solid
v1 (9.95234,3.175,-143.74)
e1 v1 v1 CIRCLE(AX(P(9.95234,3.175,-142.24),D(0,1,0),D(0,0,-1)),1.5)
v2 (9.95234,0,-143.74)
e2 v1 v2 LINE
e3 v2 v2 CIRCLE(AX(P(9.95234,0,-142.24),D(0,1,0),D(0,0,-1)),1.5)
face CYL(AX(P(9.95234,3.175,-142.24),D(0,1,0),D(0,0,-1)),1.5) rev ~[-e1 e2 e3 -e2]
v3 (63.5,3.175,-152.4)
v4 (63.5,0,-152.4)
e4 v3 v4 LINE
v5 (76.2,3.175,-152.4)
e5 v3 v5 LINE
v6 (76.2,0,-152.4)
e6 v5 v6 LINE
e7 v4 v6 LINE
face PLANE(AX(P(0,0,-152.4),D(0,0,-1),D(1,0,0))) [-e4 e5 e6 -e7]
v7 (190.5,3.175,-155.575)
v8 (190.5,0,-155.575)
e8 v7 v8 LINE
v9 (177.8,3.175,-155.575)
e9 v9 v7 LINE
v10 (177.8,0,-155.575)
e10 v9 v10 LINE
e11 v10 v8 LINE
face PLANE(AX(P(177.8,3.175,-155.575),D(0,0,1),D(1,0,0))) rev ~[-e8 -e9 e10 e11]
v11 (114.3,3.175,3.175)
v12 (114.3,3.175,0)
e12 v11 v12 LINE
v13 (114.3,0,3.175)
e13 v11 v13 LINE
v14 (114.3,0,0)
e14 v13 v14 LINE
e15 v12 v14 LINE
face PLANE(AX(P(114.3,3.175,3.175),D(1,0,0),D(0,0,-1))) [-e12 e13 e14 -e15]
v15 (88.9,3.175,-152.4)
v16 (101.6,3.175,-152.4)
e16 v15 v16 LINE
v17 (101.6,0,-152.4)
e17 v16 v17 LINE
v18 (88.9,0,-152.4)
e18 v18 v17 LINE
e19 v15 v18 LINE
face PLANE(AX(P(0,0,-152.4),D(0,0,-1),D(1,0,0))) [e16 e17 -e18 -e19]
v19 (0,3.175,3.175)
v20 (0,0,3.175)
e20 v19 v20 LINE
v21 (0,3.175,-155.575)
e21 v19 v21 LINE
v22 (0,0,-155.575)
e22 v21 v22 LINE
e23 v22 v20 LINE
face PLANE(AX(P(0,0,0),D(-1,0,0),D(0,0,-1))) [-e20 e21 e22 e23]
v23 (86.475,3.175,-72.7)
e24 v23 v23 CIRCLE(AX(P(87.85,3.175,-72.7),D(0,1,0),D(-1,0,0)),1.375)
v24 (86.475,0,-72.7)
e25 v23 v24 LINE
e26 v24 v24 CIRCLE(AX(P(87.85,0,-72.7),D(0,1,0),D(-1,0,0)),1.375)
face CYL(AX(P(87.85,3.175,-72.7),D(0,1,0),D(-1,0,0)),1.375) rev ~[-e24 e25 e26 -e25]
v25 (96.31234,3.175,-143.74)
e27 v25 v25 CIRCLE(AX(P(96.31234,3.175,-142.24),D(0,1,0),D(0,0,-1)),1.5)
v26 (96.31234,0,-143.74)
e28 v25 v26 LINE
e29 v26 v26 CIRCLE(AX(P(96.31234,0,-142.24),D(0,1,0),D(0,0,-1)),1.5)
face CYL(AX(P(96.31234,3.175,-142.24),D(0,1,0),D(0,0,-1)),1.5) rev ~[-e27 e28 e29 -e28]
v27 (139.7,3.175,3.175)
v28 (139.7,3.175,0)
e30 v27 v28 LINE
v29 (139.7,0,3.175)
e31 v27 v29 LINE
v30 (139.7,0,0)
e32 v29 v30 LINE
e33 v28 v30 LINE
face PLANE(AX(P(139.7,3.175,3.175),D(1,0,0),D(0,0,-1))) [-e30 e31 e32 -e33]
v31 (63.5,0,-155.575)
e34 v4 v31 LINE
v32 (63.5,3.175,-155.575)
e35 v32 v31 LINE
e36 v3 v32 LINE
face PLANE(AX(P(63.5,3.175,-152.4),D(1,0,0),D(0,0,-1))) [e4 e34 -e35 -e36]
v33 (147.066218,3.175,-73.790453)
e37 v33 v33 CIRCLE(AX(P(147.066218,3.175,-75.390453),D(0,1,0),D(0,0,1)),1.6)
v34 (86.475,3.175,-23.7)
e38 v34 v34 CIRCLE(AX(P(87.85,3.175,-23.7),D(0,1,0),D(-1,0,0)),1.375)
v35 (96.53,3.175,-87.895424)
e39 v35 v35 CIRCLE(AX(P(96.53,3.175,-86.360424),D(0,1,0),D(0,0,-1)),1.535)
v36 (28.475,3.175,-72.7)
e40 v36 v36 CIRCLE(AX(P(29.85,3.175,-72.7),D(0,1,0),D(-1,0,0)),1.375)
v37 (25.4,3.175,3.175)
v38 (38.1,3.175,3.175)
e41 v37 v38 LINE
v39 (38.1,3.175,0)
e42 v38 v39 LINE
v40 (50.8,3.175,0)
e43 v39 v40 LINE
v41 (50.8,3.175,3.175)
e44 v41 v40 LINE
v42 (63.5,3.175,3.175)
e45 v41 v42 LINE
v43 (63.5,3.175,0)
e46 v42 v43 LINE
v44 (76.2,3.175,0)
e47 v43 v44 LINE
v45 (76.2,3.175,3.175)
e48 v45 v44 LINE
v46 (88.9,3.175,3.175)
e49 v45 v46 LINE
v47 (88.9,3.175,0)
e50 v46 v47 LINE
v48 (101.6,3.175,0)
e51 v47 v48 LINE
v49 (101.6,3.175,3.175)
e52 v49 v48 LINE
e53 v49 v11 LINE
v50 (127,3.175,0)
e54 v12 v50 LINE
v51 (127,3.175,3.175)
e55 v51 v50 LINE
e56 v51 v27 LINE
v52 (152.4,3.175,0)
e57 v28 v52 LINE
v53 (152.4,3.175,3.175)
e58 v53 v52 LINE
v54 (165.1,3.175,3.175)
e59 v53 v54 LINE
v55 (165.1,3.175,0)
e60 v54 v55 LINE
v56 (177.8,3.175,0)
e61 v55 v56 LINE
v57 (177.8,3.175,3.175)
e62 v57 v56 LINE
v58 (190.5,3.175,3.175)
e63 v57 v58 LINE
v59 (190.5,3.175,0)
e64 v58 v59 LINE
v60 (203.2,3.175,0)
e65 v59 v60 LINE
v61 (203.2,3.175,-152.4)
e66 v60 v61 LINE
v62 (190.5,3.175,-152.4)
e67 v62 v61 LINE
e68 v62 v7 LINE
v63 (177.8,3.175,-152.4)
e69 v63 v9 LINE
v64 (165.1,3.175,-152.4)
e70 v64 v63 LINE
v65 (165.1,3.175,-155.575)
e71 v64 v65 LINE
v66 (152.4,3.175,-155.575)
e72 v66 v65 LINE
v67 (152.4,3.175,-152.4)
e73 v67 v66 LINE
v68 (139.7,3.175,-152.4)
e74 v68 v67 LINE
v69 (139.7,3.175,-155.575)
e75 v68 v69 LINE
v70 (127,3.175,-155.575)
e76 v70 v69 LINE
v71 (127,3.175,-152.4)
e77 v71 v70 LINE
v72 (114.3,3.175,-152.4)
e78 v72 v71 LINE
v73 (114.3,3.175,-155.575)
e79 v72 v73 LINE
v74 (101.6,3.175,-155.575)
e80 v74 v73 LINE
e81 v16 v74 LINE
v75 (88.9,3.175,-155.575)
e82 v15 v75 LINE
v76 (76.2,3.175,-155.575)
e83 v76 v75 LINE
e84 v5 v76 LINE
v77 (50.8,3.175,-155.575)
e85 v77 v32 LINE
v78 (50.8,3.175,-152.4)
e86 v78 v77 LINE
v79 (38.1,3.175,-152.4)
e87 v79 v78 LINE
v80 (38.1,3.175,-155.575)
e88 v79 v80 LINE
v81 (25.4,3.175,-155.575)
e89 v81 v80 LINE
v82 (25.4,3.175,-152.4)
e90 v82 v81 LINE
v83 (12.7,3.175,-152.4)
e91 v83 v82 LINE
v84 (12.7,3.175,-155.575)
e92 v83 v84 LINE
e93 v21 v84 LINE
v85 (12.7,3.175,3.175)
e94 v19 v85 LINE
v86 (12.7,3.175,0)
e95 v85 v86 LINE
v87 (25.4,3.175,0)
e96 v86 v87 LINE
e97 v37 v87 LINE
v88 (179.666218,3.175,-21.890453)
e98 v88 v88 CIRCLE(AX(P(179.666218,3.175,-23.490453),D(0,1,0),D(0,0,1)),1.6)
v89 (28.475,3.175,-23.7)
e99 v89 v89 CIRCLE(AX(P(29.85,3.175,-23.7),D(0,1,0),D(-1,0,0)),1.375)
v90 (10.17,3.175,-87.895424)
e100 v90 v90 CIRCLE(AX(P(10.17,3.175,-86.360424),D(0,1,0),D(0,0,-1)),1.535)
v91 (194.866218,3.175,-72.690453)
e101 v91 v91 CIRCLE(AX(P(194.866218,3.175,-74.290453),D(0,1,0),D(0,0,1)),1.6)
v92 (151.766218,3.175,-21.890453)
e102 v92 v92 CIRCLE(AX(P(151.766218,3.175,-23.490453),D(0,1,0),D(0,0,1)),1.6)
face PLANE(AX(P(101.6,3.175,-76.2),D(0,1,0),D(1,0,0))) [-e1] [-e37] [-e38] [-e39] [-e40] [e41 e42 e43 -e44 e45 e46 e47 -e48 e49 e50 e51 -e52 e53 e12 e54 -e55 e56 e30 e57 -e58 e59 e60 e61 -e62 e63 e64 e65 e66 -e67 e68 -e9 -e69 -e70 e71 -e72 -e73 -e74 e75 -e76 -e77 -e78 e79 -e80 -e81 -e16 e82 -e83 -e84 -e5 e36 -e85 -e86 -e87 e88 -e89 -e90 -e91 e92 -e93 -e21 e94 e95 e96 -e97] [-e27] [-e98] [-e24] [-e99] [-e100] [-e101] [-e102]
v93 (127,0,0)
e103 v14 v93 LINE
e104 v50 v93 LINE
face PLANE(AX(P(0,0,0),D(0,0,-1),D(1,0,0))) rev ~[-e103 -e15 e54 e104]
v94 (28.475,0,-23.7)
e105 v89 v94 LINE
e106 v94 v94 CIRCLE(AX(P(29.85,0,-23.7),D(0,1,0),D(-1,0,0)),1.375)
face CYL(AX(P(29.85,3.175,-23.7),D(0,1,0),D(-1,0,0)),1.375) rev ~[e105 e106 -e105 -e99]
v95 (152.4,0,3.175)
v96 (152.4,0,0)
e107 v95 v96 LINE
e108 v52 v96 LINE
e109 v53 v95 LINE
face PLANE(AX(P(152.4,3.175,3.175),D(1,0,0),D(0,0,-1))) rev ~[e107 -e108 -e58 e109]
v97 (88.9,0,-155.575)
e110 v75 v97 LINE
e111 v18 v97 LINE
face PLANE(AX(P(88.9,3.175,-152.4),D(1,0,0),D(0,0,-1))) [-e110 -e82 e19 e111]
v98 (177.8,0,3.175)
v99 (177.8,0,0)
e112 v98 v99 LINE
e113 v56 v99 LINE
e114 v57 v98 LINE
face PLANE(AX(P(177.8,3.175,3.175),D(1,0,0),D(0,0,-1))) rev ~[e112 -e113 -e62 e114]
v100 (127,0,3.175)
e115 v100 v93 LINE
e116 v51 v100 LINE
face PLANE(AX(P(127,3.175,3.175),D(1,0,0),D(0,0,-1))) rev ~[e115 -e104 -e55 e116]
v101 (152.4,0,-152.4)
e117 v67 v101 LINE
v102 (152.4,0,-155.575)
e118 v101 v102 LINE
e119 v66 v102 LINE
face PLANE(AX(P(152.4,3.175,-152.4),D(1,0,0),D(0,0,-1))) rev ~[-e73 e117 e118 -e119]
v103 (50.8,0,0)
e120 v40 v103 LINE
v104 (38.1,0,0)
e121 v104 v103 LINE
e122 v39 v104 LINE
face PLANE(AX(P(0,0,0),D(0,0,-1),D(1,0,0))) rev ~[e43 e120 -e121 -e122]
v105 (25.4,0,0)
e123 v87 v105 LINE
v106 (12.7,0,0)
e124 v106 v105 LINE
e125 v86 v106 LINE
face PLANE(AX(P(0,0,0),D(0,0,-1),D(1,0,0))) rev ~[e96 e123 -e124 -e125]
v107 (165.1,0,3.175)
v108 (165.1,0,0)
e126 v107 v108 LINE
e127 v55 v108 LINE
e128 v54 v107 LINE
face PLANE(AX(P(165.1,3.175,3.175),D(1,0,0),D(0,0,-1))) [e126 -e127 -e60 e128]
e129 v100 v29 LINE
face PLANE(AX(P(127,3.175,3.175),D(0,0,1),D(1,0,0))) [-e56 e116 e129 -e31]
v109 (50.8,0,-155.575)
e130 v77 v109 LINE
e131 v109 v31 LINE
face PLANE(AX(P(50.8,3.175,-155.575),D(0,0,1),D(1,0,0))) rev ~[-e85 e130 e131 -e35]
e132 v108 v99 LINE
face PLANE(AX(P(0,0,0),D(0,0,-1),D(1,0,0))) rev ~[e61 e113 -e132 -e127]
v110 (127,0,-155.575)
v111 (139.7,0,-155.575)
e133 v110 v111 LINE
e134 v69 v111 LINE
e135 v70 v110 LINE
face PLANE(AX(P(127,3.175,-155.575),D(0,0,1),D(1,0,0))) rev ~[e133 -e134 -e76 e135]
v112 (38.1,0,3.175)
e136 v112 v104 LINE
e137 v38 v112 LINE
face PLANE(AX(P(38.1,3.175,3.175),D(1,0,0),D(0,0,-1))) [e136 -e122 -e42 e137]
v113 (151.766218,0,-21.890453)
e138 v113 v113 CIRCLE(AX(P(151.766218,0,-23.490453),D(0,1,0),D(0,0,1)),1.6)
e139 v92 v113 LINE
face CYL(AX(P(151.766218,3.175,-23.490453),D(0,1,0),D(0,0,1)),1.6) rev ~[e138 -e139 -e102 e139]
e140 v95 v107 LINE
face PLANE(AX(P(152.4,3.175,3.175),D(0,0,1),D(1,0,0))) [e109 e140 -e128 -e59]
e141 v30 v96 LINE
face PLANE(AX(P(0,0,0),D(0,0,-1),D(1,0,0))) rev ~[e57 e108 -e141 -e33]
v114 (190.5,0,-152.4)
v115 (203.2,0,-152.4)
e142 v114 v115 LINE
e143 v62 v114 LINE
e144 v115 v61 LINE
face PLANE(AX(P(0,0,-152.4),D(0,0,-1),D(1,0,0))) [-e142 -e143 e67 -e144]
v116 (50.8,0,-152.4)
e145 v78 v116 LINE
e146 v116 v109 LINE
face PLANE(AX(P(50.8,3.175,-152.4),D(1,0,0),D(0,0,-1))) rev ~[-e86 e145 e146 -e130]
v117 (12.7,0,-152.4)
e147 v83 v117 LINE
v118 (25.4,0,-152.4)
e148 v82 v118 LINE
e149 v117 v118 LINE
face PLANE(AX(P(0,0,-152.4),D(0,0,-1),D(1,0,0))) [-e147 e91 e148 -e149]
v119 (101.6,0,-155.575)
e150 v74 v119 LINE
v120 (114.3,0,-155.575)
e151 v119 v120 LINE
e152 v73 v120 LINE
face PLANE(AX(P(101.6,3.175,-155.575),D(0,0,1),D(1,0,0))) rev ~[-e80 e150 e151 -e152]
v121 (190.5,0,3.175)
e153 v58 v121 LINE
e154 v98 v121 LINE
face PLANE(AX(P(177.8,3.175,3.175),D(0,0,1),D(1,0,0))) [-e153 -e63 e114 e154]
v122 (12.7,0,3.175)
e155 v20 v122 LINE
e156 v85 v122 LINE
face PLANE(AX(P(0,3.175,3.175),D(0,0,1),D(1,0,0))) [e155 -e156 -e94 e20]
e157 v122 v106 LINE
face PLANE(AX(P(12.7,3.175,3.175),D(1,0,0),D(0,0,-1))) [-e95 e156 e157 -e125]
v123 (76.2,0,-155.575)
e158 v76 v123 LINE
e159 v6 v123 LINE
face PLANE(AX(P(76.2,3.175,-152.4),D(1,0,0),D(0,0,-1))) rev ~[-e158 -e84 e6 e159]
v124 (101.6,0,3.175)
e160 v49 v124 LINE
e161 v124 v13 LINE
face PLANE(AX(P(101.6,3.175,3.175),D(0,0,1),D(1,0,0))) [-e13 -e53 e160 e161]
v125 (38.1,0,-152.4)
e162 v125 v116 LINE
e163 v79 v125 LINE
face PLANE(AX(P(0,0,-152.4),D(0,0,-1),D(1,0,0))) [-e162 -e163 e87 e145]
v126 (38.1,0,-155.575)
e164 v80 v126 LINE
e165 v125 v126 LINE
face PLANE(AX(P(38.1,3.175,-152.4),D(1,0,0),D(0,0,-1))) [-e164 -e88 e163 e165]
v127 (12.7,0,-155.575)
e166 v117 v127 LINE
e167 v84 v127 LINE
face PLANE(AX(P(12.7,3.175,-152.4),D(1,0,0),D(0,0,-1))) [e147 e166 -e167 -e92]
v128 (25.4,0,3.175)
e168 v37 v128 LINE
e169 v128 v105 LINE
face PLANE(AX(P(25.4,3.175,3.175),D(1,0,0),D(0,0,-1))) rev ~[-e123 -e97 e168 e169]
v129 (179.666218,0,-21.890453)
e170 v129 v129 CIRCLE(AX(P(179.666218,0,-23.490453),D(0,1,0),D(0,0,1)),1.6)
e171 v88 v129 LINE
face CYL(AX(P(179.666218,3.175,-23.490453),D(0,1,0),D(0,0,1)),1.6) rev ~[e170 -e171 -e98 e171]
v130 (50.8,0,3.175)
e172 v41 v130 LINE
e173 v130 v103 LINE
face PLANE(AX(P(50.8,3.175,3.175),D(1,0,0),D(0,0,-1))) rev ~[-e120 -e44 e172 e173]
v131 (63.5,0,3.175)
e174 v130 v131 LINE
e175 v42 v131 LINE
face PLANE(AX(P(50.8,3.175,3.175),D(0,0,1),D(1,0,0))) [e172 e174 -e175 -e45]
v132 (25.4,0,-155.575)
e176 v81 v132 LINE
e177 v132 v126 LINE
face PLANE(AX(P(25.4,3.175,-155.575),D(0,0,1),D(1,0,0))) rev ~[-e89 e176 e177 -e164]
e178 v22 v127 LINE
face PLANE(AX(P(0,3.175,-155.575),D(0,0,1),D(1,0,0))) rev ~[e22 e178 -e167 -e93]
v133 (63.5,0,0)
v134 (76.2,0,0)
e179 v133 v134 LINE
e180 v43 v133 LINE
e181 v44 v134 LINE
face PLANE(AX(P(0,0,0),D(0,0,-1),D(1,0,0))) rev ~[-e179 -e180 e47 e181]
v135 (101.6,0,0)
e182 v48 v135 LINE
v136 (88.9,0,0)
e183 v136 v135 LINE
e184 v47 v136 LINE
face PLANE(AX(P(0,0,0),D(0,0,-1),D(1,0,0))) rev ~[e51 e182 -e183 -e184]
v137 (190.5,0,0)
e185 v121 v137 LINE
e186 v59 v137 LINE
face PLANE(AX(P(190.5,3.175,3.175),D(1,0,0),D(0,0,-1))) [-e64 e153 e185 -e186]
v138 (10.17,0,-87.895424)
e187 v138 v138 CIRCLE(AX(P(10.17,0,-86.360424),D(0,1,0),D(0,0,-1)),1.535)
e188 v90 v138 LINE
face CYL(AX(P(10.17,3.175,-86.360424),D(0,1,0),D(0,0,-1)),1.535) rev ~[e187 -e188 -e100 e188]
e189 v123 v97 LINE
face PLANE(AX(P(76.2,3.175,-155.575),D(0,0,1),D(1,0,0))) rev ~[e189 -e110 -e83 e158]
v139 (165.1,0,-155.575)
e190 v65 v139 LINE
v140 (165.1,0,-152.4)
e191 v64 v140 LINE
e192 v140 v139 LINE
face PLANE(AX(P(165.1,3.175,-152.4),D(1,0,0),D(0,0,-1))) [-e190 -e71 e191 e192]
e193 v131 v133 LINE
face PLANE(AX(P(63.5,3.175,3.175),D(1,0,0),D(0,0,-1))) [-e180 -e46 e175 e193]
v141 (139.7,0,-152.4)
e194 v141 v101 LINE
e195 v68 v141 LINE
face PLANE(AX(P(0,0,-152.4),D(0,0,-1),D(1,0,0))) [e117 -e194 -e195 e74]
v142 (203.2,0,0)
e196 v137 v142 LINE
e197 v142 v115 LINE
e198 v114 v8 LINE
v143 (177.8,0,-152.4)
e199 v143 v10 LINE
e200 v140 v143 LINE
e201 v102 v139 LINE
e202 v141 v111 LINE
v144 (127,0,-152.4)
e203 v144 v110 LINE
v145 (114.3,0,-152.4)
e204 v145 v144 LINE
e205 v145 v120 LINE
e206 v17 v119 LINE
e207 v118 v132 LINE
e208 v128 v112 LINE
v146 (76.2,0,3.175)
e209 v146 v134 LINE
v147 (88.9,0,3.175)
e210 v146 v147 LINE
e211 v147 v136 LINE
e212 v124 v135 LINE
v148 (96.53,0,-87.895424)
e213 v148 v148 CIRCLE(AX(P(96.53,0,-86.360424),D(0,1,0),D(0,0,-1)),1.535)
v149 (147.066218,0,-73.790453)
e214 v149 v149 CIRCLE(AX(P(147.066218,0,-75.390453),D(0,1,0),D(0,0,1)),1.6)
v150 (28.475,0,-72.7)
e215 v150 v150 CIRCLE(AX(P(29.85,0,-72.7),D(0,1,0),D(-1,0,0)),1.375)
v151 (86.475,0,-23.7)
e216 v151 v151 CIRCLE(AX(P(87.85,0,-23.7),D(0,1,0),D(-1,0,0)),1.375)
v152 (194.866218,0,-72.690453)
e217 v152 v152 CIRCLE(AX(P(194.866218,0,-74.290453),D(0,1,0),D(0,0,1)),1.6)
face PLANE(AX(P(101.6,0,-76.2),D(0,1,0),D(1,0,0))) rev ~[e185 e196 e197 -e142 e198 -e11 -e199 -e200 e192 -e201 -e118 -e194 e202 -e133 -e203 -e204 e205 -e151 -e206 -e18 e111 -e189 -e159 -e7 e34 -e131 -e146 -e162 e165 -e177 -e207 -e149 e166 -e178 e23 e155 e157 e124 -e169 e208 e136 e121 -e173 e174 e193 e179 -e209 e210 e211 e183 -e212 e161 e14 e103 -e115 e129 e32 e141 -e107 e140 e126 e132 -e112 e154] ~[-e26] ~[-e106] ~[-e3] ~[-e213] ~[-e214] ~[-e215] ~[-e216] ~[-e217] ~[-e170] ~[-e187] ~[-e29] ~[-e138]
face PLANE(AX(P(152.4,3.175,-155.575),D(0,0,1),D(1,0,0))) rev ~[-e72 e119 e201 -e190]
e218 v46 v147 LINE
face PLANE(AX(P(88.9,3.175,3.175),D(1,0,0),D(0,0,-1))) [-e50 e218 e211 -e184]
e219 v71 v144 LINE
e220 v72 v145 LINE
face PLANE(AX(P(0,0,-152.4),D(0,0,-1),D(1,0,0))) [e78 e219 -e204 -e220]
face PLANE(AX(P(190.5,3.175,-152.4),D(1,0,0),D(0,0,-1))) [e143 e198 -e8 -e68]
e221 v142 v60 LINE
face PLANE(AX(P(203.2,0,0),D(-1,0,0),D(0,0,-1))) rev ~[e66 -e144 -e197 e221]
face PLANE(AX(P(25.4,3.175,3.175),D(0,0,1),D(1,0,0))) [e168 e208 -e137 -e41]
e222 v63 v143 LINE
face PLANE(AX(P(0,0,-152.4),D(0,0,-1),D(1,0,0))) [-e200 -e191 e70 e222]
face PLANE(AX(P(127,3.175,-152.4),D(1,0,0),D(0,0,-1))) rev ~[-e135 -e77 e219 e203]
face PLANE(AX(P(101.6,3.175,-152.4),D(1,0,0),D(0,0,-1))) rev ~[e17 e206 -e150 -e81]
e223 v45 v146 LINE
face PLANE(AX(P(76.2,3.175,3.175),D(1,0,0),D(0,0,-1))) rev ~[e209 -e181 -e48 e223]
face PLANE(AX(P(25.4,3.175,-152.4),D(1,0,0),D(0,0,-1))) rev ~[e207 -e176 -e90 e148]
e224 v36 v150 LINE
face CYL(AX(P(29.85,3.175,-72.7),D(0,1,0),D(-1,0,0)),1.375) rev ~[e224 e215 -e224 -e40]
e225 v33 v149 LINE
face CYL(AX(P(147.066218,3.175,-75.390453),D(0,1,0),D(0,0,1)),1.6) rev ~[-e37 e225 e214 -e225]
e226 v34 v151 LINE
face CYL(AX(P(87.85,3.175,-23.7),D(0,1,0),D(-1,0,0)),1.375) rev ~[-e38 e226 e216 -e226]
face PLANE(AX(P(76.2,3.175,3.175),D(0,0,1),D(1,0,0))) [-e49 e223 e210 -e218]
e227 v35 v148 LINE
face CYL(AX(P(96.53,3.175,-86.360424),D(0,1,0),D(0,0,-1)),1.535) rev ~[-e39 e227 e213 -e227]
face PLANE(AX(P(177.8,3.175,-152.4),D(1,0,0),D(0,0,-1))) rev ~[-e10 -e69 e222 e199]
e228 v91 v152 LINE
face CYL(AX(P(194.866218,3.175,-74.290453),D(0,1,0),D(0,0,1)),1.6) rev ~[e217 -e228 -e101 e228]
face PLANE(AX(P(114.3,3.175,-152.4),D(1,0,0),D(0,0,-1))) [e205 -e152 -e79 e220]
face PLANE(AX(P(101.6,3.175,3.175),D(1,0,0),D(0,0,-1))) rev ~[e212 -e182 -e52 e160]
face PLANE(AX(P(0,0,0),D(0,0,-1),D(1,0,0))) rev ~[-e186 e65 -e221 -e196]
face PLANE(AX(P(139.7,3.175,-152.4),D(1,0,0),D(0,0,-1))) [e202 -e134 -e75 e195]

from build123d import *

# Parameters (mm, degrees)
SKETCH1_W              = 203.2
SKETCH1_H              = 152.4
BOSS_EXTRUDE1_DEPTH    = 3.175
SKETCH2_W              = 12.7
SKETCH2_H              = 3.175
BOSS_EXTRUDE2_DEPTH    = 3.175
BOSS_EXTRUDE2_2_DEPTH  = 3.175
BOSS_EXTRUDE2_3_DEPTH  = 3.175
BOSS_EXTRUDE2_4_DEPTH  = 3.175
BOSS_EXTRUDE2_5_DEPTH  = 3.175
BOSS_EXTRUDE2_6_DEPTH  = 3.175
BOSS_EXTRUDE2_7_DEPTH  = 3.175
BOSS_EXTRUDE2_8_DEPTH  = 3.175
BOSS_EXTRUDE2_9_DEPTH  = 3.175
BOSS_EXTRUDE2_10_DEPTH = 3.175
BOSS_EXTRUDE2_11_DEPTH = 3.175
BOSS_EXTRUDE2_12_DEPTH = 3.175
BOSS_EXTRUDE2_13_DEPTH = 3.175
BOSS_EXTRUDE2_14_DEPTH = 3.175
BOSS_EXTRUDE2_15_DEPTH = 3.175
BOSS_EXTRUDE2_16_DEPTH = 3.175
SKETCH4_R              = 1.375
RASPI_DEPTH            = 4.175
SKETCH5_R              = 1.6
ARDUINO_DEPTH          = 4.175
SKETCH10_R             = 1.535
SKETCH10_R_2           = 1.5
PERFBOARD_DEPTH        = 1
PERFBOARD_DEPTH_BACK   = 4.175


with BuildPart() as part:
    # Sketch1 → Boss-Extrude1 (new body)
    with BuildSketch(Plane(origin=(0, 0, 0), x_dir=(1, 0, 0), z_dir=(0, 1, 0))):
        with Locations((101.6, 76.2)):
            Rectangle(SKETCH1_W, SKETCH1_H)
    extrude(amount=BOSS_EXTRUDE1_DEPTH)

    # Sketch4 → Raspi (cut, through all)
    with BuildSketch(Plane(origin=(163.318517222, 3.175, 18.128898402), x_dir=(-1, 0, 0), z_dir=(0, 1, 0))):
        with Locations((75.468517222, -41.828898402)):
            Circle(SKETCH4_R)
        with Locations((75.468517222, -90.828898402)):
            Circle(SKETCH4_R)
        with Locations((133.468517222, -90.828898402)):
            Circle(SKETCH4_R)
        with Locations((133.468517222, -41.828898402)):
            Circle(SKETCH4_R)
    extrude(amount=-RASPI_DEPTH, mode=Mode.SUBTRACT)

    # Sketch5 → Arduino (cut, through all)
    with BuildSketch(Plane(origin=(-58.332709996, 3.175, -175.865858612), x_dir=(0, 0, 1), z_dir=(0, 1, 0))):
        with Locations((100.475405858, 205.398928035)):
            Circle(SKETCH5_R)
        with Locations((101.575405858, 253.198928035)):
            Circle(SKETCH5_R)
        with Locations((152.375405858, 210.098928035)):
            Circle(SKETCH5_R)
        with Locations((152.375405858, 237.998928035)):
            Circle(SKETCH5_R)
    extrude(amount=-ARDUINO_DEPTH, mode=Mode.SUBTRACT)

    # Sketch10 → Perfboard (cut, two sides)
    with BuildSketch(Plane(origin=(154.738240667, 3.175, -89.784200023), x_dir=(0, 0, -1), z_dir=(0, 1, 0))) as perfboard_sk:
        with Locations((-3.423776116, 144.568240667)):
            Circle(SKETCH10_R)
        with Locations((52.455799977, 144.785900219)):
            Circle(SKETCH10_R_2)
        with Locations((-3.423776116, 58.208240667)):
            Circle(SKETCH10_R)
        with Locations((52.455799977, 58.425900219)):
            Circle(SKETCH10_R_2)
    extrude(amount=PERFBOARD_DEPTH, mode=Mode.SUBTRACT)
    extrude(perfboard_sk.sketch, amount=-PERFBOARD_DEPTH_BACK, mode=Mode.SUBTRACT)


with BuildPart() as body_2:
    # Sketch2 → Boss-Extrude2 (new body)
    with BuildSketch(Plane(origin=(0, 3.175, 0), x_dir=(1, 0, 0), z_dir=(0, 1, 0))):
        with Locations((31.75, -1.5875)):
            Rectangle(SKETCH2_W, SKETCH2_H)
    extrude(amount=-BOSS_EXTRUDE2_DEPTH)


with BuildPart() as body_3:
    # Sketch2 → Boss-Extrude2 2 (new body)
    with BuildSketch(Plane(origin=(0, 3.175, 0), x_dir=(1, 0, 0), z_dir=(0, 1, 0))):
        with Locations((6.35, -1.5875)):
            Rectangle(SKETCH2_W, SKETCH2_H)
    extrude(amount=-BOSS_EXTRUDE2_2_DEPTH)


with BuildPart() as body_4:
    # Sketch2 → Boss-Extrude2 3 (new body)
    with BuildSketch(Plane(origin=(0, 3.175, 0), x_dir=(1, 0, 0), z_dir=(0, 1, 0))):
        with Locations((57.15, -1.5875)):
            Rectangle(SKETCH2_W, SKETCH2_H)
    extrude(amount=-BOSS_EXTRUDE2_3_DEPTH)


with BuildPart() as body_5:
    # Sketch2 → Boss-Extrude2 4 (new body)
    with BuildSketch(Plane(origin=(0, 3.175, 0), x_dir=(1, 0, 0), z_dir=(0, 1, 0))):
        with Locations((82.55, -1.5875)):
            Rectangle(SKETCH2_W, SKETCH2_H)
    extrude(amount=-BOSS_EXTRUDE2_4_DEPTH)


with BuildPart() as body_6:
    # Sketch2 → Boss-Extrude2 5 (new body)
    with BuildSketch(Plane(origin=(0, 3.175, 0), x_dir=(1, 0, 0), z_dir=(0, 1, 0))):
        with Locations((107.95, -1.5875)):
            Rectangle(SKETCH2_W, SKETCH2_H)
    extrude(amount=-BOSS_EXTRUDE2_5_DEPTH)


with BuildPart() as body_7:
    # Sketch2 → Boss-Extrude2 6 (new body)
    with BuildSketch(Plane(origin=(0, 3.175, 0), x_dir=(1, 0, 0), z_dir=(0, 1, 0))):
        with Locations((133.35, -1.5875)):
            Rectangle(SKETCH2_W, SKETCH2_H)
    extrude(amount=-BOSS_EXTRUDE2_6_DEPTH)


with BuildPart() as body_8:
    # Sketch2 → Boss-Extrude2 7 (new body)
    with BuildSketch(Plane(origin=(0, 3.175, 0), x_dir=(1, 0, 0), z_dir=(0, 1, 0))):
        with Locations((158.75, -1.5875)):
            Rectangle(SKETCH2_W, SKETCH2_H)
    extrude(amount=-BOSS_EXTRUDE2_7_DEPTH)


with BuildPart() as body_9:
    # Sketch2 → Boss-Extrude2 8 (new body)
    with BuildSketch(Plane(origin=(0, 3.175, 0), x_dir=(1, 0, 0), z_dir=(0, 1, 0))):
        with Locations((184.15, -1.5875)):
            Rectangle(SKETCH2_W, SKETCH2_H)
    extrude(amount=-BOSS_EXTRUDE2_8_DEPTH)


with BuildPart() as body_10:
    # Sketch2 → Boss-Extrude2 9 (new body)
    with BuildSketch(Plane(origin=(0, 3.175, 0), x_dir=(1, 0, 0), z_dir=(0, 1, 0))):
        with Locations((184.15, 153.9875)):
            Rectangle(SKETCH2_W, SKETCH2_H)
    extrude(amount=-BOSS_EXTRUDE2_9_DEPTH)


with BuildPart() as body_11:
    # Sketch2 → Boss-Extrude2 10 (new body)
    with BuildSketch(Plane(origin=(0, 3.175, 0), x_dir=(1, 0, 0), z_dir=(0, 1, 0))):
        with Locations((158.75, 153.9875)):
            Rectangle(SKETCH2_W, SKETCH2_H)
    extrude(amount=-BOSS_EXTRUDE2_10_DEPTH)


with BuildPart() as body_12:
    # Sketch2 → Boss-Extrude2 11 (new body)
    with BuildSketch(Plane(origin=(0, 3.175, 0), x_dir=(1, 0, 0), z_dir=(0, 1, 0))):
        with Locations((133.35, 153.9875)):
            Rectangle(SKETCH2_W, SKETCH2_H)
    extrude(amount=-BOSS_EXTRUDE2_11_DEPTH)


with BuildPart() as body_13:
    # Sketch2 → Boss-Extrude2 12 (new body)
    with BuildSketch(Plane(origin=(0, 3.175, 0), x_dir=(1, 0, 0), z_dir=(0, 1, 0))):
        with Locations((107.95, 153.9875)):
            Rectangle(SKETCH2_W, SKETCH2_H)
    extrude(amount=-BOSS_EXTRUDE2_12_DEPTH)


with BuildPart() as body_14:
    # Sketch2 → Boss-Extrude2 13 (new body)
    with BuildSketch(Plane(origin=(0, 3.175, 0), x_dir=(1, 0, 0), z_dir=(0, 1, 0))):
        with Locations((82.55, 153.9875)):
            Rectangle(SKETCH2_W, SKETCH2_H)
    extrude(amount=-BOSS_EXTRUDE2_13_DEPTH)


with BuildPart() as body_15:
    # Sketch2 → Boss-Extrude2 14 (new body)
    with BuildSketch(Plane(origin=(0, 3.175, 0), x_dir=(1, 0, 0), z_dir=(0, 1, 0))):
        with Locations((57.15, 153.9875)):
            Rectangle(SKETCH2_W, SKETCH2_H)
    extrude(amount=-BOSS_EXTRUDE2_14_DEPTH)


with BuildPart() as body_16:
    # Sketch2 → Boss-Extrude2 15 (new body)
    with BuildSketch(Plane(origin=(0, 3.175, 0), x_dir=(1, 0, 0), z_dir=(0, 1, 0))):
        with Locations((31.75, 153.9875)):
            Rectangle(SKETCH2_W, SKETCH2_H)
    extrude(amount=-BOSS_EXTRUDE2_15_DEPTH)


with BuildPart() as body_17:
    # Sketch2 → Boss-Extrude2 16 (new body)
    with BuildSketch(Plane(origin=(0, 3.175, 0), x_dir=(1, 0, 0), z_dir=(0, 1, 0))):
        with Locations((6.35, 153.9875)):
            Rectangle(SKETCH2_W, SKETCH2_H)
    extrude(amount=-BOSS_EXTRUDE2_16_DEPTH)


with BuildPart() as body_3_1:
    add(body_3.part)

    # Combine1: union body 4, body 6, body 8, body 10, body 12, body 14, body 16, body 17, part, body 2, body 5, body 7, body 9, body 11, body 13, body 15
    add(body_4.part)
    add(body_6.part)
    add(body_8.part)
    add(body_10.part)
    add(body_12.part)
    add(body_14.part)
    add(body_16.part)
    add(body_17.part)
    add(part.part)
    add(body_2.part)
    add(body_5.part)
    add(body_7.part)
    add(body_9.part)
    add(body_11.part)
    add(body_13.part)
    add(body_15.part)


solid = body_3_1.part
